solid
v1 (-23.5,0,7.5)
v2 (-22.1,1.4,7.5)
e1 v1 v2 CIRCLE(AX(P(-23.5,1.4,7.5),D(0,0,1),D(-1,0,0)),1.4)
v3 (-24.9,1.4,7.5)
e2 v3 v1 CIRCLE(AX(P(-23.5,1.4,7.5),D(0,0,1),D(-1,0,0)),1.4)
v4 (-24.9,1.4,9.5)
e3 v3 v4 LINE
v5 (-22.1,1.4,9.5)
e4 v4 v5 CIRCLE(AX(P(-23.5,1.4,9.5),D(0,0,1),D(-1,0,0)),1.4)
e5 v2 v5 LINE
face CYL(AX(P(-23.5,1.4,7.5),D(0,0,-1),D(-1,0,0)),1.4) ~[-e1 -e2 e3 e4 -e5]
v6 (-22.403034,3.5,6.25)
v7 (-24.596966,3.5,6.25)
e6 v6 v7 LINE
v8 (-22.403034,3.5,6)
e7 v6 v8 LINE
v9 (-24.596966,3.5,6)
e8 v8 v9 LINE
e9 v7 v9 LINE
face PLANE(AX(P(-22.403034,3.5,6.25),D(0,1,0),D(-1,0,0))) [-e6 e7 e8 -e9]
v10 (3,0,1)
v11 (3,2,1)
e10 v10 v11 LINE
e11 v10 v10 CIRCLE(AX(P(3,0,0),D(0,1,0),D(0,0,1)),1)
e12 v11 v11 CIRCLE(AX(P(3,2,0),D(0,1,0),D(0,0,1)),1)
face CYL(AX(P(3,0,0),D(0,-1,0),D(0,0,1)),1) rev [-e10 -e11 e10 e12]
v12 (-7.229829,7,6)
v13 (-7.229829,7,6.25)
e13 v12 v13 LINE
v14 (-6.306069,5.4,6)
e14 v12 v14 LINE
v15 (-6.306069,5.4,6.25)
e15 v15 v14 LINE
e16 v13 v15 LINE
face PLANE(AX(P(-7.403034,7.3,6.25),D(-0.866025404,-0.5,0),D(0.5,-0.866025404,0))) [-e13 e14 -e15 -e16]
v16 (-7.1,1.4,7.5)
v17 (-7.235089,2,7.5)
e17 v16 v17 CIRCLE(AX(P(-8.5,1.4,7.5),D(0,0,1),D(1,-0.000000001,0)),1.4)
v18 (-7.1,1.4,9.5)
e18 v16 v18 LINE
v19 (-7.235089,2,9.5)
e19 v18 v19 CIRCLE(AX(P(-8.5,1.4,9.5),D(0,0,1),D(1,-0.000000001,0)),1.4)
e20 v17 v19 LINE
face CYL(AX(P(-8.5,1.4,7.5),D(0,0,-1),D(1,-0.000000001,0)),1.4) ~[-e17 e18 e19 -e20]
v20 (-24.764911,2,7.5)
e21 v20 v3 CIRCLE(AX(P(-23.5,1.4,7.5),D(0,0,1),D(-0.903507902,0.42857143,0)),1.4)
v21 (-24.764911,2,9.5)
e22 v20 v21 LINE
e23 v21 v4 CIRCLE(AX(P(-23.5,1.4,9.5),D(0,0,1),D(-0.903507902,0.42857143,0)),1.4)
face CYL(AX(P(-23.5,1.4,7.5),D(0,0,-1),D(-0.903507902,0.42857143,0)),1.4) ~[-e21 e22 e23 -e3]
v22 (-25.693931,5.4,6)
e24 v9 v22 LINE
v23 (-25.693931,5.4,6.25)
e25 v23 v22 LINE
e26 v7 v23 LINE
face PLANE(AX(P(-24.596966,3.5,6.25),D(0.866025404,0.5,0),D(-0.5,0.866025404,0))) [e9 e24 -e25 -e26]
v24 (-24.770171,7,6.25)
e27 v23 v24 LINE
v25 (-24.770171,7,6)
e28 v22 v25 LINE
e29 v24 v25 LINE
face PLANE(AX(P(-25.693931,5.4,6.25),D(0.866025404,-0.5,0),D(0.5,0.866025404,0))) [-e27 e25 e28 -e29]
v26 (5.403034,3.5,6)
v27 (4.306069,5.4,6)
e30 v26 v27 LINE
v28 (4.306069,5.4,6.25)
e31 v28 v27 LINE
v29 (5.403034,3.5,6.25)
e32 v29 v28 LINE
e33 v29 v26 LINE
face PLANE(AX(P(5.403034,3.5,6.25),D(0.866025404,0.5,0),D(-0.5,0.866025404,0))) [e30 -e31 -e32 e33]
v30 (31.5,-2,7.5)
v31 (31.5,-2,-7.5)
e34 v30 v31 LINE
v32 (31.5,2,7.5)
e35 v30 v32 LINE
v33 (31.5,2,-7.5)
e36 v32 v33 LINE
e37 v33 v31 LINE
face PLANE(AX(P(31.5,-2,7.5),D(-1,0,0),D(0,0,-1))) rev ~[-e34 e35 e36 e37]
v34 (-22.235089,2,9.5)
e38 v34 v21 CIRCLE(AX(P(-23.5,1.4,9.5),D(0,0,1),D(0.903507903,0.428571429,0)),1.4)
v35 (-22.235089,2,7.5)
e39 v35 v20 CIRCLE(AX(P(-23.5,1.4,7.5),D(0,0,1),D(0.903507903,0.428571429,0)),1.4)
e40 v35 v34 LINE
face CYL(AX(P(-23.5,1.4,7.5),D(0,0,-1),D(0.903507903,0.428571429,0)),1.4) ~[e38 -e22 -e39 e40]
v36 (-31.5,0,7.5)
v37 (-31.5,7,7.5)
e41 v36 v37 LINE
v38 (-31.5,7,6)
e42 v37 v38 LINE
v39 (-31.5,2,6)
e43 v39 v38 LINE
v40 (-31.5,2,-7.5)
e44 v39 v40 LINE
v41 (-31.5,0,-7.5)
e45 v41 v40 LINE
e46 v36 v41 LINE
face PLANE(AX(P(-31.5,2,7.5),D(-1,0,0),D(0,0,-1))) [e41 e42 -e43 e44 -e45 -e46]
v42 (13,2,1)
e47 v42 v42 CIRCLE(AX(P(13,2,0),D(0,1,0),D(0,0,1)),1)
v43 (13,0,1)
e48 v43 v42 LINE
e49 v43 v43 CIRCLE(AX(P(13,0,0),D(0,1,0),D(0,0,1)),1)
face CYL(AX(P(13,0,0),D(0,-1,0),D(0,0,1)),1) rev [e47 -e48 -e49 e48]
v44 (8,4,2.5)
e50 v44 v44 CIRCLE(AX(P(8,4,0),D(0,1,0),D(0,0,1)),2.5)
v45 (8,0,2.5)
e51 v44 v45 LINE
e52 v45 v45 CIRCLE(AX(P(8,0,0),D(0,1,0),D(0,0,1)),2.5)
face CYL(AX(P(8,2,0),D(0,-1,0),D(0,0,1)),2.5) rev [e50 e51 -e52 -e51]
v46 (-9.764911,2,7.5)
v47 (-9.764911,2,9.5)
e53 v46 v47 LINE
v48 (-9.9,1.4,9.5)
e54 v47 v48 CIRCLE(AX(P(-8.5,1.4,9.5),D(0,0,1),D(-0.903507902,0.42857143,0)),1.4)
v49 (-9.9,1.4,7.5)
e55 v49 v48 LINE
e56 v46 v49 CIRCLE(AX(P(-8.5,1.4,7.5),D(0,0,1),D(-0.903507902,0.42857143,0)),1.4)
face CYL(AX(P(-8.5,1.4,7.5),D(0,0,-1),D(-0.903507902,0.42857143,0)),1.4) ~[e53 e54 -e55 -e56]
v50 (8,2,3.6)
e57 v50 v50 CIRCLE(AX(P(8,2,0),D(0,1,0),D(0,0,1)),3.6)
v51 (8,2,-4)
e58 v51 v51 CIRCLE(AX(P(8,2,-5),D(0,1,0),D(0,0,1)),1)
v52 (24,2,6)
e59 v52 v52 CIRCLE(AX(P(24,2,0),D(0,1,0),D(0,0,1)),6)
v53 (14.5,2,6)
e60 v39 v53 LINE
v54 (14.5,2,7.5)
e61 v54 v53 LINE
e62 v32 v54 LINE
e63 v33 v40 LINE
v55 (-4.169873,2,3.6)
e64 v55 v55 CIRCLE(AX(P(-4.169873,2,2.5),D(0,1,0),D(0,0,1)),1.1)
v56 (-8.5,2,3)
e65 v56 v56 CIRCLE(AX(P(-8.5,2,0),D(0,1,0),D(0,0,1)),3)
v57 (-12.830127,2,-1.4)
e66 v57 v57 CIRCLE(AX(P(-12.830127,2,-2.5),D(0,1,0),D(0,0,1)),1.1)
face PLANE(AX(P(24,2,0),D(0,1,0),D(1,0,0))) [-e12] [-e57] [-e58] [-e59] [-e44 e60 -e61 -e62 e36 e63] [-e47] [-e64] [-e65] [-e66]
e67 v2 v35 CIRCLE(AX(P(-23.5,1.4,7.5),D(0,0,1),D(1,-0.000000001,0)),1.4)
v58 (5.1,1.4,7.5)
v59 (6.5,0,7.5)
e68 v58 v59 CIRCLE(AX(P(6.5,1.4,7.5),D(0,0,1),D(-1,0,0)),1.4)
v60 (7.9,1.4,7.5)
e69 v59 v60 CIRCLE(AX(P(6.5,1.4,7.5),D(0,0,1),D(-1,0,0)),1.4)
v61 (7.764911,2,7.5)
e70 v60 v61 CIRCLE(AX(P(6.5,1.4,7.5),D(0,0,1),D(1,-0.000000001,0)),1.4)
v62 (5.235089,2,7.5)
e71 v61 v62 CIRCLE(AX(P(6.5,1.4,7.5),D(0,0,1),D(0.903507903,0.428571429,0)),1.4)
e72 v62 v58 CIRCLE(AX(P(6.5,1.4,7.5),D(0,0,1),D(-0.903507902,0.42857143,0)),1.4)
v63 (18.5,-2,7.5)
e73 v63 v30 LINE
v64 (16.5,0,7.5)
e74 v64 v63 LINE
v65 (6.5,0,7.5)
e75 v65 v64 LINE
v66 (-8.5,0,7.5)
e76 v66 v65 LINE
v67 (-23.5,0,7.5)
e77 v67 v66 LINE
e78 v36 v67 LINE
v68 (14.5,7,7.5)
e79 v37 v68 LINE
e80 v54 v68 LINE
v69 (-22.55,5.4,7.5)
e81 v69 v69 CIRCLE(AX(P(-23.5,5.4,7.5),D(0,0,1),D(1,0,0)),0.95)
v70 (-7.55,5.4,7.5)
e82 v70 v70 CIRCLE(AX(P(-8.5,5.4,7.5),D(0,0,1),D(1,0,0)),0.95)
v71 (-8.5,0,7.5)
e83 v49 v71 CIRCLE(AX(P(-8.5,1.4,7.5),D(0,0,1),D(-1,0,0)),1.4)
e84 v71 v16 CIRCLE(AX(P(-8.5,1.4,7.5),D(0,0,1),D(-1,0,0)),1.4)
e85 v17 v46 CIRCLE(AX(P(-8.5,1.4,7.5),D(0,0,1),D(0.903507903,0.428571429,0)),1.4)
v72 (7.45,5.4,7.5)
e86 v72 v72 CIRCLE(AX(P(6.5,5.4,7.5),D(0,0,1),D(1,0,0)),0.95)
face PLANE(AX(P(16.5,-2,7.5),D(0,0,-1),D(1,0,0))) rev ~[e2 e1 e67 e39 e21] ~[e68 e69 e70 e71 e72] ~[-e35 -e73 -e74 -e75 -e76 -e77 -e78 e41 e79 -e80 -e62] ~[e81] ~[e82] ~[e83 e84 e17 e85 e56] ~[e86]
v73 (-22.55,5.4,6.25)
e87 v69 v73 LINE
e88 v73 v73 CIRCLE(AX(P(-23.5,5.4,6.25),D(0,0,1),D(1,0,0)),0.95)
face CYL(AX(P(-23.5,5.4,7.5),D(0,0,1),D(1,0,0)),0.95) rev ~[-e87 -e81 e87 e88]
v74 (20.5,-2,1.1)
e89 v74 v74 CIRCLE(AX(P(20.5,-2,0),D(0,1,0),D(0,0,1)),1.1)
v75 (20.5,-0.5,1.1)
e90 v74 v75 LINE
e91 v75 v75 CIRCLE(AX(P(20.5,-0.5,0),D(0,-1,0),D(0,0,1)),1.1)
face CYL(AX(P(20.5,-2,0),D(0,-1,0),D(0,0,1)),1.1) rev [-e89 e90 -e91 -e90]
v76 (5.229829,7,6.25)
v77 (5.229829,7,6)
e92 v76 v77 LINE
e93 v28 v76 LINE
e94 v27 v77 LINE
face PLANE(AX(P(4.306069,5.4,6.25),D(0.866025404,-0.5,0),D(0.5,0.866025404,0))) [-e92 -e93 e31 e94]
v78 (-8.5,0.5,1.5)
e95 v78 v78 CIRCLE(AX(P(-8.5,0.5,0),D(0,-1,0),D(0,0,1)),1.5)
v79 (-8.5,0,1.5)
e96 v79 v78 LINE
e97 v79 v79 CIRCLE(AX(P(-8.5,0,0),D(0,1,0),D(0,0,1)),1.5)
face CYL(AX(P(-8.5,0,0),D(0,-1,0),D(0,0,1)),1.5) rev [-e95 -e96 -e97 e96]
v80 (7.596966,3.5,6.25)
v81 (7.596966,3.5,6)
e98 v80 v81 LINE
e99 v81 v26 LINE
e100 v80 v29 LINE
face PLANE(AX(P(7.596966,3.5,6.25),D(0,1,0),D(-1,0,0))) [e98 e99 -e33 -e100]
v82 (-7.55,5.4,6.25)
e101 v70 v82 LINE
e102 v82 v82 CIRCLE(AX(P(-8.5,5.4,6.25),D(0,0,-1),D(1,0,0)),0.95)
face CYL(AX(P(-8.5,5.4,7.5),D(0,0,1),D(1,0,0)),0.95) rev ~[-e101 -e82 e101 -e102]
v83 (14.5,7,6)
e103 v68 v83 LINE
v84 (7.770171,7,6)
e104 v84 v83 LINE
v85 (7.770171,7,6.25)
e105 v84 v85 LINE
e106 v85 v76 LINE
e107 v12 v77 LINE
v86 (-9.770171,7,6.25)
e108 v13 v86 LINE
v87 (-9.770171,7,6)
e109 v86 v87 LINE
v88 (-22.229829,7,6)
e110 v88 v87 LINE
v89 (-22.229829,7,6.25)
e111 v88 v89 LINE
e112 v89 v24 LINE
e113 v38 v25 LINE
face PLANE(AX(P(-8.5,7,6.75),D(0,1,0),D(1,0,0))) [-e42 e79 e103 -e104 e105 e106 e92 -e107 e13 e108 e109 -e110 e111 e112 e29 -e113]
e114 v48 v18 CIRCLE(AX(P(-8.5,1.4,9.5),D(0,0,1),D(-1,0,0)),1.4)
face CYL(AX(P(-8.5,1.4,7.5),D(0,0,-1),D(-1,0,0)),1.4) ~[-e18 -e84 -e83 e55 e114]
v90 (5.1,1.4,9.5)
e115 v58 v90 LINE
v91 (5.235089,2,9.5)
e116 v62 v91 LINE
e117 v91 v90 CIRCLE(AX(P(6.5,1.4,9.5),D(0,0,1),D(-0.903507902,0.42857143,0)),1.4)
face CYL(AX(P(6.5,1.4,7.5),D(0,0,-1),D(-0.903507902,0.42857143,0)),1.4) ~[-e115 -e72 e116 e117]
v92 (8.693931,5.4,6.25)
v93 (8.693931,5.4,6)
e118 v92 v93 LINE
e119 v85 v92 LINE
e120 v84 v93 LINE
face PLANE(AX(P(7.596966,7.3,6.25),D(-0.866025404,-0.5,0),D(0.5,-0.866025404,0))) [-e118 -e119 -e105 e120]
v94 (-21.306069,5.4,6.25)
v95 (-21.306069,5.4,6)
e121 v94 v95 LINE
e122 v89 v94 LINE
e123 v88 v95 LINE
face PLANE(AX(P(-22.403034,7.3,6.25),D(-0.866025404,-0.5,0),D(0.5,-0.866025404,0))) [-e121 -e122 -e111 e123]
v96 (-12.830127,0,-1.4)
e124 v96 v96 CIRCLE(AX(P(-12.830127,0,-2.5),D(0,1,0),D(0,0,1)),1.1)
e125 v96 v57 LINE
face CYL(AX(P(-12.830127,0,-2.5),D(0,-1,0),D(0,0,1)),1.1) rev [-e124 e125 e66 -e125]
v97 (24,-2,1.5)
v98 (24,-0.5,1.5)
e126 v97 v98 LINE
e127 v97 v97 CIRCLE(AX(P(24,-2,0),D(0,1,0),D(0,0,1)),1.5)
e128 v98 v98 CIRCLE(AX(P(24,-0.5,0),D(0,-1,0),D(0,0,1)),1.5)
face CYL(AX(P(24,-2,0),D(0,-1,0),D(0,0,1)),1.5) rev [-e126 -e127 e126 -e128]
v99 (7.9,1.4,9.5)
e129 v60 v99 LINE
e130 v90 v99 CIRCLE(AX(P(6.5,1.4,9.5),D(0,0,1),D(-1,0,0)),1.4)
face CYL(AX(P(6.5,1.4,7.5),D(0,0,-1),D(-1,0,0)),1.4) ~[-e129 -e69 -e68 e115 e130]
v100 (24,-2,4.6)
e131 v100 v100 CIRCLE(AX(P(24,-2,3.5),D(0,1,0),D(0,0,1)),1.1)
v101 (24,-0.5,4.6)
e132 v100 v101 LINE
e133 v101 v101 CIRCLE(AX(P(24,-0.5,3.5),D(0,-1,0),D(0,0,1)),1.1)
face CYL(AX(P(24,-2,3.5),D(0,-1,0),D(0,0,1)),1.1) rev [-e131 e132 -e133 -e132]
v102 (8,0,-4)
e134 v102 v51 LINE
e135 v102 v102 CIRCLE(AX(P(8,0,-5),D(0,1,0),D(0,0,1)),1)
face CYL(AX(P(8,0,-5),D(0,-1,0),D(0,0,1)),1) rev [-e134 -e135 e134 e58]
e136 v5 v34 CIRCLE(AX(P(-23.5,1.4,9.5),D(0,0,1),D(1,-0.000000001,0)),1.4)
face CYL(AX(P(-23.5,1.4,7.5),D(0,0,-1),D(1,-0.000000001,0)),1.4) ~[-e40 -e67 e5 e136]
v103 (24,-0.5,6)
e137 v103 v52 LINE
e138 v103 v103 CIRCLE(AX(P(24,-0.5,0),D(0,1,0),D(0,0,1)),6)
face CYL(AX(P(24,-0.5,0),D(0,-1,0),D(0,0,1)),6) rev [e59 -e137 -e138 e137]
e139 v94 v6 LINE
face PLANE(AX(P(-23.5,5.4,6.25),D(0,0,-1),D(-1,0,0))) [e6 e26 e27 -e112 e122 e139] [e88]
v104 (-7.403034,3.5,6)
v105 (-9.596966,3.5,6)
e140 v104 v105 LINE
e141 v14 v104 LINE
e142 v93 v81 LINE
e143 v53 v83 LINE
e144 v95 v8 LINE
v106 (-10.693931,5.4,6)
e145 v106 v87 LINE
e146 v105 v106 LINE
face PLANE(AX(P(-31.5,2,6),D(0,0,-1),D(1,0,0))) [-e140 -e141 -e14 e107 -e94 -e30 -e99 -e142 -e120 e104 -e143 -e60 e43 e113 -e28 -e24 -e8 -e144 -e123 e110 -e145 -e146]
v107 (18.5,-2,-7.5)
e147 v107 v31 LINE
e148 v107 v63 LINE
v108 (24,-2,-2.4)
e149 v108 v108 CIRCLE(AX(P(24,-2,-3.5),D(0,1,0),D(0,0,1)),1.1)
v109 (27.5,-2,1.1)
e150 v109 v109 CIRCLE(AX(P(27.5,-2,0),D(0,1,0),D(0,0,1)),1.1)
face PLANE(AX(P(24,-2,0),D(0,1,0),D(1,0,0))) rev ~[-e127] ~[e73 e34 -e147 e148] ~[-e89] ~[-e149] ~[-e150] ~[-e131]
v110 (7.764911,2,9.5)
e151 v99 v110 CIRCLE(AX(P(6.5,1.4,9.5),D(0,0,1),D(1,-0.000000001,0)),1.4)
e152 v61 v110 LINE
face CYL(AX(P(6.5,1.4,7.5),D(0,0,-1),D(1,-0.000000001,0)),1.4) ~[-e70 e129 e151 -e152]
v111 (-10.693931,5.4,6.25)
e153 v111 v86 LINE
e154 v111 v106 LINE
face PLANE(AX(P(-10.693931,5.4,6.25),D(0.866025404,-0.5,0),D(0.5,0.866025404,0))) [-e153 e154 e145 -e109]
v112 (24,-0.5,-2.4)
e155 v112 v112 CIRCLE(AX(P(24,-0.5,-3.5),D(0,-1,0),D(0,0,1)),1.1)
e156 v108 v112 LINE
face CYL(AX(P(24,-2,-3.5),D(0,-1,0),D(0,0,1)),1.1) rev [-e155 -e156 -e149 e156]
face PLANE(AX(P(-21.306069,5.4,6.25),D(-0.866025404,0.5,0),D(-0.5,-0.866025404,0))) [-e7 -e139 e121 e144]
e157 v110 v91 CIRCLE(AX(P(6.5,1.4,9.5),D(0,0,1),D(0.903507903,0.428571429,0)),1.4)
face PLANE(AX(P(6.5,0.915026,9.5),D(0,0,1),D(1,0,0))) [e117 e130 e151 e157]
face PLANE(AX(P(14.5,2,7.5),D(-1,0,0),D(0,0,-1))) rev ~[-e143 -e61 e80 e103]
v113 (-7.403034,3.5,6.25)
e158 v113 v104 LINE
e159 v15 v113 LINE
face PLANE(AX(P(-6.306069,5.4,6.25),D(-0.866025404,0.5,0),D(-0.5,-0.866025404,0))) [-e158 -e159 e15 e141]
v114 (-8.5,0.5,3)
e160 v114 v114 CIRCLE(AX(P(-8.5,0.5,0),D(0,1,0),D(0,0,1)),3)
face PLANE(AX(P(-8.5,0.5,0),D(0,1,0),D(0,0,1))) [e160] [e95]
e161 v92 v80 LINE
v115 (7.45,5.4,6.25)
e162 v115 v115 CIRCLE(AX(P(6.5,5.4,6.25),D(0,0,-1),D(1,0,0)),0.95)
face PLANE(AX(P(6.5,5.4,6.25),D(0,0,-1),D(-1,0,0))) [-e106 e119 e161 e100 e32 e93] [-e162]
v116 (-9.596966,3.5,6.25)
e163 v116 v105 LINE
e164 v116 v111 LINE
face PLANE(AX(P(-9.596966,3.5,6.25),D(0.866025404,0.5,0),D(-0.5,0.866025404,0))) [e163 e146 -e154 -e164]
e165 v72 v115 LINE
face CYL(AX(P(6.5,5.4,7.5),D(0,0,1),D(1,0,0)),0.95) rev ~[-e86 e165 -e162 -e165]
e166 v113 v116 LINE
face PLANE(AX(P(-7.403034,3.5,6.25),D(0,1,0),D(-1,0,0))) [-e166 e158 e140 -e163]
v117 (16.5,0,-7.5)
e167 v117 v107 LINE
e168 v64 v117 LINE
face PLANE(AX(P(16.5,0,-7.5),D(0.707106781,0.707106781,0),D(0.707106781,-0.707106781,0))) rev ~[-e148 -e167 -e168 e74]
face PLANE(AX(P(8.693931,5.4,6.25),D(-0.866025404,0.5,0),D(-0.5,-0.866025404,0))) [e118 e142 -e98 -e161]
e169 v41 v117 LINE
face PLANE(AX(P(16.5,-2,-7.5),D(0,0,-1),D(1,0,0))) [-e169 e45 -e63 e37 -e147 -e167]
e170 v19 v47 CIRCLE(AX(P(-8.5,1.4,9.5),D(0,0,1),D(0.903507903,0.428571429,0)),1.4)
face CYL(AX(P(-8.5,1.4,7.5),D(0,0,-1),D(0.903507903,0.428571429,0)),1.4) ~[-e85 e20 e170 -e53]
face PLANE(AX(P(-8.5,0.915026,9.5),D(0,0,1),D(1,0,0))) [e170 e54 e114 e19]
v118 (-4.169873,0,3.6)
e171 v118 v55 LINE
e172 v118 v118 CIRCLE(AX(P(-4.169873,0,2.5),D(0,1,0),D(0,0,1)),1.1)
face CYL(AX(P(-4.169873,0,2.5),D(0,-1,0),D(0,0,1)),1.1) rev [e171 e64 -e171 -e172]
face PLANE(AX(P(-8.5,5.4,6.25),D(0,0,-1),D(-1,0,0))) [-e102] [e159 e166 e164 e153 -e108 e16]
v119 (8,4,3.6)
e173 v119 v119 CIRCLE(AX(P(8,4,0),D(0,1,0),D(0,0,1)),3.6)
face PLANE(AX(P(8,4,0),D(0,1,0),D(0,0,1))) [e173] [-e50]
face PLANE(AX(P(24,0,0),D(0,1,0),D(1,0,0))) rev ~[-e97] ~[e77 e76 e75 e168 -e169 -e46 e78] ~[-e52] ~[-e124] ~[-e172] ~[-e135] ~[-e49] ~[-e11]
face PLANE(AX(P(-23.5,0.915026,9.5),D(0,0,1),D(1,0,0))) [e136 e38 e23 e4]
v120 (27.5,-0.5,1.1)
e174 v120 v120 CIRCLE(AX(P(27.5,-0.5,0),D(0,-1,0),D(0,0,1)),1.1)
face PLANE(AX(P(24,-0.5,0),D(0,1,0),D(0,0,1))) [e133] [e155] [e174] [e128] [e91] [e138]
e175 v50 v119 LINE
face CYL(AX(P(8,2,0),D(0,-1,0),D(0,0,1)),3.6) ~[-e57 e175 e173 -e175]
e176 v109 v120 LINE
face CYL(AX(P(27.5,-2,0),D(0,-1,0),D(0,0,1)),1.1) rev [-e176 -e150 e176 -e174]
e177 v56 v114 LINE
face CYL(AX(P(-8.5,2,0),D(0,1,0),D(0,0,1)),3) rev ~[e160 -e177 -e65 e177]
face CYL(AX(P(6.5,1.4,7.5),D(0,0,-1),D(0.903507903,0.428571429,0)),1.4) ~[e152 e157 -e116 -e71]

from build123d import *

# Parameters (mm, degrees)
SKETCH_1_W               = 48
SKETCH_1_H               = 15
SKETCH_1_R               = 1.1
SKETCH_1_R_2             = 1
SKETCH_1_R_3             = 1.5
SKETCH_1_R_4             = 2.5
EXTRUDE_1_DEPTH          = 2
EXTRUDE_2_DEPTH          = 2
SKETCH_4_R               = 3
CUT_EXTRUDE_1_DEPTH      = 1.5
SKETCH_5_W               = 46
SKETCH_5_H               = 1.5
EXTRUDE_3_DEPTH          = 5
SKETCH_2_3_R             = 0.95
CUT_EXTRUDE_2_DEPTH      = 6
CUT_EXTRUDE_START        = -0.25
SKETCH_7_R               = 0.95
CUT_EXTRUDE_3_DEPTH      = 0.25
SKETCH_1_3_W             = 15
SKETCH_1_3_H             = 15
SKETCH_1_3_R             = 6
SKETCH_1_3_R_2           = 1.5
SKETCH_1_3_R_3           = 1.1
EXTRUDE_4_DEPTH          = 2
EXTRUDE_START            = -2
SKETCH_1_4_W             = 15
SKETCH_1_4_H             = 15
SKETCH_1_4_R             = 6
SKETCH_1_4_R_2           = 1.5
SKETCH_1_4_R_3           = 1.1
EXTRUDE_5_DEPTH          = 2
CUT_EXTRUDE_4_DEPTH      = 2
CUT_EXTRUDE_4_DEPTH_BACK = 0.5
SKETCH_1_5_R             = 6
CUT_EXTRUDE_5_DEPTH      = 15
SKETCH_9_R               = 3.6
SKETCH_9_R_2             = 2.5
EXTRUDE_6_DEPTH          = 2


with BuildPart() as part:
    # 草图1 → 凸台-拉伸1 (new body)
    with BuildSketch(Plane(origin=(0, 0, 0), x_dir=(1, 0, 0), z_dir=(0, 1, 0))):
        with Locations((-7.5, 0)):
            Rectangle(SKETCH_1_W, SKETCH_1_H)
        with Locations(Location((-4.169872981, -2.5, 0), (0, 0, 270))):
            Circle(SKETCH_1_R, mode=Mode.SUBTRACT)
        with Locations(Location((3, 0, 0), (0, 0, 270))):
            Circle(SKETCH_1_R_2, mode=Mode.SUBTRACT)
        with Locations(Location((-8.5, 0, 0), (0, 0, 270))):
            Circle(SKETCH_1_R_3, mode=Mode.SUBTRACT)
        with Locations(Location((-12.830127019, 2.5, 0), (0, 0, 270))):
            Circle(SKETCH_1_R, mode=Mode.SUBTRACT)
        with Locations(Location((8, 0, 0), (0, 0, 270))):
            Circle(SKETCH_1_R_4, mode=Mode.SUBTRACT)
        with Locations(Location((13, 0, 0), (0, 0, 270))):
            Circle(SKETCH_1_R_2, mode=Mode.SUBTRACT)
        with Locations(Location((8, 5, 0), (0, 0, 270))):
            Circle(SKETCH_1_R_2, mode=Mode.SUBTRACT)
    extrude(amount=EXTRUDE_1_DEPTH)

    # 草图2 → 凸台-拉伸2 (add)
    with BuildSketch(Plane.XY.offset(7.5)):
        with BuildLine():
            Line((-22.1, 1.4), (-24.9, 1.4))
            ThreePointArc((-24.9, 1.4), (-23.5, 0), (-22.1, 1.4))
        make_face()
        with BuildLine():
            ThreePointArc((-24.764911064, 2), (-24.865810289, 1.707509764), (-24.9, 1.4))
            Line((-24.9, 1.4), (-22.1, 1.4))
            ThreePointArc((-22.1, 1.4), (-22.134189711, 1.707509764), (-22.235088936, 2))
            Line((-22.235088936, 2), (-24.764911064, 2))
        make_face()
        with BuildLine():
            ThreePointArc((-22.235088936, 2), (-23.5, 2.8), (-24.764911064, 2))
            Line((-24.764911064, 2), (-22.235088936, 2))
        make_face()
        with BuildLine():
            Line((-7.1, 1.4), (-9.9, 1.4))
            ThreePointArc((-9.9, 1.4), (-8.5, 0), (-7.1, 1.4))
        make_face()
        with BuildLine():
            ThreePointArc((-9.764911064, 2), (-9.865810289, 1.707509764), (-9.9, 1.4))
            Line((-9.9, 1.4), (-7.1, 1.4))
            ThreePointArc((-7.1, 1.4), (-7.134189711, 1.707509764), (-7.235088936, 2))
            Line((-7.235088936, 2), (-9.764911064, 2))
        make_face()
        with BuildLine():
            ThreePointArc((-7.235088936, 2), (-8.5, 2.8), (-9.764911064, 2))
            Line((-9.764911064, 2), (-7.235088936, 2))
        make_face()
        with BuildLine():
            Line((7.9, 1.4), (5.1, 1.4))
            ThreePointArc((5.1, 1.4), (6.5, 0), (7.9, 1.4))
        make_face()
        with BuildLine():
            ThreePointArc((5.235088936, 2), (5.134189711, 1.707509764), (5.1, 1.4))
            Line((5.1, 1.4), (7.9, 1.4))
            ThreePointArc((7.9, 1.4), (7.865810289, 1.707509764), (7.764911064, 2))
            Line((7.764911064, 2), (5.235088936, 2))
        make_face()
        with BuildLine():
            ThreePointArc((7.764911064, 2), (6.5, 2.8), (5.235088936, 2))
            Line((5.235088936, 2), (7.764911064, 2))
        make_face()
    extrude(amount=EXTRUDE_2_DEPTH)

    # 草图4 → 切除-拉伸1 (cut)
    with BuildSketch(Plane(origin=(0, 2, 0), x_dir=(1, 0, 0), z_dir=(0, 1, 0))):
        with Locations(Location((-8.5, 0, 0), (0, 0, 270))):
            Circle(SKETCH_4_R)
    extrude(amount=-CUT_EXTRUDE_1_DEPTH, mode=Mode.SUBTRACT)

    # 草图5 → 凸台-拉伸3 (add)
    with BuildSketch(Plane(origin=(0, 2, 0), x_dir=(1, 0, 0), z_dir=(0, 1, 0))):
        with Locations((-8.5, -6.75)):
            Rectangle(SKETCH_5_W, SKETCH_5_H)
    extrude(amount=EXTRUDE_3_DEPTH)

    # 草图2<3> → 切除-拉伸2 (cut)
    with BuildSketch(Plane.XY.offset(7.5)):
        with Locations((-23.5, 5.4)):
            Circle(SKETCH_2_3_R)
        with Locations((-8.5, 5.4)):
            Circle(SKETCH_2_3_R)
        with Locations((6.5, 5.4)):
            Circle(SKETCH_2_3_R)
    extrude(amount=-CUT_EXTRUDE_2_DEPTH, mode=Mode.SUBTRACT)

    # 草图7 → 切除-拉伸3 (cut)
    # profile 1 of 3: a face of its own
    with BuildSketch(Plane(origin=(0, 0, 6), x_dir=(-1, 0, 0), z_dir=(0, 0, -1)).offset(CUT_EXTRUDE_START)):
        Polygon((-7.596965511, 3.5), (-5.403034489, 3.5), (-4.306068977, 5.4), (-5.403034489, 7.3), (-7.596965511, 7.3), (-8.693931023, 5.4), align=None)
        with Locations(Location((-6.5, 5.4, 0), (0, 0, 180))):
            Circle(SKETCH_7_R, mode=Mode.SUBTRACT)
    # profile 2 of 3: a face of its own
    with BuildSketch(Plane(origin=(0, 0, 6), x_dir=(-1, 0, 0), z_dir=(0, 0, -1)).offset(CUT_EXTRUDE_START)):
        Polygon((6.306068977, 5.4), (7.403034489, 3.5), (9.596965511, 3.5), (10.693931023, 5.4), (9.596965511, 7.3), (7.403034489, 7.3), align=None)
        with Locations(Location((8.5, 5.4, 0), (0, 0, 180))):
            Circle(SKETCH_7_R, mode=Mode.SUBTRACT)
    # profile 3 of 3: a face of its own
    with BuildSketch(Plane(origin=(0, 0, 6), x_dir=(-1, 0, 0), z_dir=(0, 0, -1)).offset(CUT_EXTRUDE_START)):
        Polygon((21.306068977, 5.4), (22.403034489, 3.5), (24.596965511, 3.5), (25.693931023, 5.4), (24.596965511, 7.3), (22.403034489, 7.3), align=None)
    extrude(amount=CUT_EXTRUDE_3_DEPTH, mode=Mode.SUBTRACT)

    # 草图1<3> → 凸台-拉伸4 (add)
    # profile 1 of 2: a face of its own
    with BuildSketch(Plane(origin=(0, 0, 0), x_dir=(1, 0, 0), z_dir=(0, 1, 0))):
        with Locations((24, 0)):
            Rectangle(SKETCH_1_3_W, SKETCH_1_3_H)
        with Locations((24, 0)):
            Circle(SKETCH_1_3_R, mode=Mode.SUBTRACT)
    # profile 2 of 2: a face of its own
    with BuildSketch(Plane(origin=(0, 0, 0), x_dir=(1, 0, 0), z_dir=(0, 1, 0))):
        with Locations((24, 0)):
            Circle(SKETCH_1_3_R)
        with Locations(Location((24, 0, 0), (0, 0, 270))):
            Circle(SKETCH_1_3_R_2, mode=Mode.SUBTRACT)
        with Locations(Location((27.5, 0, 0), (0, 0, 270))):
            Circle(SKETCH_1_3_R_3, mode=Mode.SUBTRACT)
        with Locations(Location((24, -3.5, 0), (0, 0, 270))):
            Circle(SKETCH_1_3_R_3, mode=Mode.SUBTRACT)
        with Locations(Location((20.5, 0, 0), (0, 0, 270))):
            Circle(SKETCH_1_3_R_3, mode=Mode.SUBTRACT)
        with Locations(Location((24, 3.5, 0), (0, 0, 270))):
            Circle(SKETCH_1_3_R_3, mode=Mode.SUBTRACT)
    extrude(amount=EXTRUDE_4_DEPTH)

    # 草图1<4> → 凸台-拉伸5 (add)
    # profile 1 of 2: a face of its own
    with BuildSketch(Plane(origin=(0, 0, 0), x_dir=(1, 0, 0), z_dir=(0, 1, 0)).offset(EXTRUDE_START)):
        with Locations((24, 0)):
            Rectangle(SKETCH_1_4_W, SKETCH_1_4_H)
        with Locations((24, 0)):
            Circle(SKETCH_1_4_R, mode=Mode.SUBTRACT)
    # profile 2 of 2: a face of its own
    with BuildSketch(Plane(origin=(0, 0, 0), x_dir=(1, 0, 0), z_dir=(0, 1, 0)).offset(EXTRUDE_START)):
        with Locations((24, 0)):
            Circle(SKETCH_1_4_R)
        with Locations(Location((24, 0, 0), (0, 0, 270))):
            Circle(SKETCH_1_4_R_2, mode=Mode.SUBTRACT)
        with Locations(Location((27.5, 0, 0), (0, 0, 270))):
            Circle(SKETCH_1_4_R_3, mode=Mode.SUBTRACT)
        with Locations(Location((24, -3.5, 0), (0, 0, 270))):
            Circle(SKETCH_1_4_R_3, mode=Mode.SUBTRACT)
        with Locations(Location((20.5, 0, 0), (0, 0, 270))):
            Circle(SKETCH_1_4_R_3, mode=Mode.SUBTRACT)
        with Locations(Location((24, 3.5, 0), (0, 0, 270))):
            Circle(SKETCH_1_4_R_3, mode=Mode.SUBTRACT)
    extrude(amount=EXTRUDE_5_DEPTH)

    # 草图1<5> → 切除-拉伸4 (cut, two sides: drawn at the far end of the back side and taken through both)
    with BuildSketch(Plane(origin=(0, 0, 0), x_dir=(1, 0, 0), z_dir=(0, 1, 0)).offset(-CUT_EXTRUDE_4_DEPTH_BACK)):
        with Locations(Location((24, 0, 0), (0, 0, 270))):
            Circle(SKETCH_1_5_R)
    extrude(amount=CUT_EXTRUDE_4_DEPTH + CUT_EXTRUDE_4_DEPTH_BACK, mode=Mode.SUBTRACT)

    # 草图8 → 切除-拉伸5 (cut)
    with BuildSketch(Plane(origin=(0, 0, -7.5), x_dir=(-1, 0, 0), z_dir=(0, 0, -1))):
        Polygon((-16.5, 0), (-18.5, -2), (-16.5, -2), align=None)
    extrude(amount=-CUT_EXTRUDE_5_DEPTH, mode=Mode.SUBTRACT)

    # 草图9 → 凸台-拉伸6 (add)
    with BuildSketch(Plane(origin=(0, 2, 0), x_dir=(1, 0, 0), z_dir=(0, 1, 0))):
        with Locations(Location((8, 0, 0), (0, 0, 270))):
            Circle(SKETCH_9_R)
        with Locations(Location((8, 0, 0), (0, 0, 270))):
            Circle(SKETCH_9_R_2, mode=Mode.SUBTRACT)
    extrude(amount=EXTRUDE_6_DEPTH)


solid = part.part
